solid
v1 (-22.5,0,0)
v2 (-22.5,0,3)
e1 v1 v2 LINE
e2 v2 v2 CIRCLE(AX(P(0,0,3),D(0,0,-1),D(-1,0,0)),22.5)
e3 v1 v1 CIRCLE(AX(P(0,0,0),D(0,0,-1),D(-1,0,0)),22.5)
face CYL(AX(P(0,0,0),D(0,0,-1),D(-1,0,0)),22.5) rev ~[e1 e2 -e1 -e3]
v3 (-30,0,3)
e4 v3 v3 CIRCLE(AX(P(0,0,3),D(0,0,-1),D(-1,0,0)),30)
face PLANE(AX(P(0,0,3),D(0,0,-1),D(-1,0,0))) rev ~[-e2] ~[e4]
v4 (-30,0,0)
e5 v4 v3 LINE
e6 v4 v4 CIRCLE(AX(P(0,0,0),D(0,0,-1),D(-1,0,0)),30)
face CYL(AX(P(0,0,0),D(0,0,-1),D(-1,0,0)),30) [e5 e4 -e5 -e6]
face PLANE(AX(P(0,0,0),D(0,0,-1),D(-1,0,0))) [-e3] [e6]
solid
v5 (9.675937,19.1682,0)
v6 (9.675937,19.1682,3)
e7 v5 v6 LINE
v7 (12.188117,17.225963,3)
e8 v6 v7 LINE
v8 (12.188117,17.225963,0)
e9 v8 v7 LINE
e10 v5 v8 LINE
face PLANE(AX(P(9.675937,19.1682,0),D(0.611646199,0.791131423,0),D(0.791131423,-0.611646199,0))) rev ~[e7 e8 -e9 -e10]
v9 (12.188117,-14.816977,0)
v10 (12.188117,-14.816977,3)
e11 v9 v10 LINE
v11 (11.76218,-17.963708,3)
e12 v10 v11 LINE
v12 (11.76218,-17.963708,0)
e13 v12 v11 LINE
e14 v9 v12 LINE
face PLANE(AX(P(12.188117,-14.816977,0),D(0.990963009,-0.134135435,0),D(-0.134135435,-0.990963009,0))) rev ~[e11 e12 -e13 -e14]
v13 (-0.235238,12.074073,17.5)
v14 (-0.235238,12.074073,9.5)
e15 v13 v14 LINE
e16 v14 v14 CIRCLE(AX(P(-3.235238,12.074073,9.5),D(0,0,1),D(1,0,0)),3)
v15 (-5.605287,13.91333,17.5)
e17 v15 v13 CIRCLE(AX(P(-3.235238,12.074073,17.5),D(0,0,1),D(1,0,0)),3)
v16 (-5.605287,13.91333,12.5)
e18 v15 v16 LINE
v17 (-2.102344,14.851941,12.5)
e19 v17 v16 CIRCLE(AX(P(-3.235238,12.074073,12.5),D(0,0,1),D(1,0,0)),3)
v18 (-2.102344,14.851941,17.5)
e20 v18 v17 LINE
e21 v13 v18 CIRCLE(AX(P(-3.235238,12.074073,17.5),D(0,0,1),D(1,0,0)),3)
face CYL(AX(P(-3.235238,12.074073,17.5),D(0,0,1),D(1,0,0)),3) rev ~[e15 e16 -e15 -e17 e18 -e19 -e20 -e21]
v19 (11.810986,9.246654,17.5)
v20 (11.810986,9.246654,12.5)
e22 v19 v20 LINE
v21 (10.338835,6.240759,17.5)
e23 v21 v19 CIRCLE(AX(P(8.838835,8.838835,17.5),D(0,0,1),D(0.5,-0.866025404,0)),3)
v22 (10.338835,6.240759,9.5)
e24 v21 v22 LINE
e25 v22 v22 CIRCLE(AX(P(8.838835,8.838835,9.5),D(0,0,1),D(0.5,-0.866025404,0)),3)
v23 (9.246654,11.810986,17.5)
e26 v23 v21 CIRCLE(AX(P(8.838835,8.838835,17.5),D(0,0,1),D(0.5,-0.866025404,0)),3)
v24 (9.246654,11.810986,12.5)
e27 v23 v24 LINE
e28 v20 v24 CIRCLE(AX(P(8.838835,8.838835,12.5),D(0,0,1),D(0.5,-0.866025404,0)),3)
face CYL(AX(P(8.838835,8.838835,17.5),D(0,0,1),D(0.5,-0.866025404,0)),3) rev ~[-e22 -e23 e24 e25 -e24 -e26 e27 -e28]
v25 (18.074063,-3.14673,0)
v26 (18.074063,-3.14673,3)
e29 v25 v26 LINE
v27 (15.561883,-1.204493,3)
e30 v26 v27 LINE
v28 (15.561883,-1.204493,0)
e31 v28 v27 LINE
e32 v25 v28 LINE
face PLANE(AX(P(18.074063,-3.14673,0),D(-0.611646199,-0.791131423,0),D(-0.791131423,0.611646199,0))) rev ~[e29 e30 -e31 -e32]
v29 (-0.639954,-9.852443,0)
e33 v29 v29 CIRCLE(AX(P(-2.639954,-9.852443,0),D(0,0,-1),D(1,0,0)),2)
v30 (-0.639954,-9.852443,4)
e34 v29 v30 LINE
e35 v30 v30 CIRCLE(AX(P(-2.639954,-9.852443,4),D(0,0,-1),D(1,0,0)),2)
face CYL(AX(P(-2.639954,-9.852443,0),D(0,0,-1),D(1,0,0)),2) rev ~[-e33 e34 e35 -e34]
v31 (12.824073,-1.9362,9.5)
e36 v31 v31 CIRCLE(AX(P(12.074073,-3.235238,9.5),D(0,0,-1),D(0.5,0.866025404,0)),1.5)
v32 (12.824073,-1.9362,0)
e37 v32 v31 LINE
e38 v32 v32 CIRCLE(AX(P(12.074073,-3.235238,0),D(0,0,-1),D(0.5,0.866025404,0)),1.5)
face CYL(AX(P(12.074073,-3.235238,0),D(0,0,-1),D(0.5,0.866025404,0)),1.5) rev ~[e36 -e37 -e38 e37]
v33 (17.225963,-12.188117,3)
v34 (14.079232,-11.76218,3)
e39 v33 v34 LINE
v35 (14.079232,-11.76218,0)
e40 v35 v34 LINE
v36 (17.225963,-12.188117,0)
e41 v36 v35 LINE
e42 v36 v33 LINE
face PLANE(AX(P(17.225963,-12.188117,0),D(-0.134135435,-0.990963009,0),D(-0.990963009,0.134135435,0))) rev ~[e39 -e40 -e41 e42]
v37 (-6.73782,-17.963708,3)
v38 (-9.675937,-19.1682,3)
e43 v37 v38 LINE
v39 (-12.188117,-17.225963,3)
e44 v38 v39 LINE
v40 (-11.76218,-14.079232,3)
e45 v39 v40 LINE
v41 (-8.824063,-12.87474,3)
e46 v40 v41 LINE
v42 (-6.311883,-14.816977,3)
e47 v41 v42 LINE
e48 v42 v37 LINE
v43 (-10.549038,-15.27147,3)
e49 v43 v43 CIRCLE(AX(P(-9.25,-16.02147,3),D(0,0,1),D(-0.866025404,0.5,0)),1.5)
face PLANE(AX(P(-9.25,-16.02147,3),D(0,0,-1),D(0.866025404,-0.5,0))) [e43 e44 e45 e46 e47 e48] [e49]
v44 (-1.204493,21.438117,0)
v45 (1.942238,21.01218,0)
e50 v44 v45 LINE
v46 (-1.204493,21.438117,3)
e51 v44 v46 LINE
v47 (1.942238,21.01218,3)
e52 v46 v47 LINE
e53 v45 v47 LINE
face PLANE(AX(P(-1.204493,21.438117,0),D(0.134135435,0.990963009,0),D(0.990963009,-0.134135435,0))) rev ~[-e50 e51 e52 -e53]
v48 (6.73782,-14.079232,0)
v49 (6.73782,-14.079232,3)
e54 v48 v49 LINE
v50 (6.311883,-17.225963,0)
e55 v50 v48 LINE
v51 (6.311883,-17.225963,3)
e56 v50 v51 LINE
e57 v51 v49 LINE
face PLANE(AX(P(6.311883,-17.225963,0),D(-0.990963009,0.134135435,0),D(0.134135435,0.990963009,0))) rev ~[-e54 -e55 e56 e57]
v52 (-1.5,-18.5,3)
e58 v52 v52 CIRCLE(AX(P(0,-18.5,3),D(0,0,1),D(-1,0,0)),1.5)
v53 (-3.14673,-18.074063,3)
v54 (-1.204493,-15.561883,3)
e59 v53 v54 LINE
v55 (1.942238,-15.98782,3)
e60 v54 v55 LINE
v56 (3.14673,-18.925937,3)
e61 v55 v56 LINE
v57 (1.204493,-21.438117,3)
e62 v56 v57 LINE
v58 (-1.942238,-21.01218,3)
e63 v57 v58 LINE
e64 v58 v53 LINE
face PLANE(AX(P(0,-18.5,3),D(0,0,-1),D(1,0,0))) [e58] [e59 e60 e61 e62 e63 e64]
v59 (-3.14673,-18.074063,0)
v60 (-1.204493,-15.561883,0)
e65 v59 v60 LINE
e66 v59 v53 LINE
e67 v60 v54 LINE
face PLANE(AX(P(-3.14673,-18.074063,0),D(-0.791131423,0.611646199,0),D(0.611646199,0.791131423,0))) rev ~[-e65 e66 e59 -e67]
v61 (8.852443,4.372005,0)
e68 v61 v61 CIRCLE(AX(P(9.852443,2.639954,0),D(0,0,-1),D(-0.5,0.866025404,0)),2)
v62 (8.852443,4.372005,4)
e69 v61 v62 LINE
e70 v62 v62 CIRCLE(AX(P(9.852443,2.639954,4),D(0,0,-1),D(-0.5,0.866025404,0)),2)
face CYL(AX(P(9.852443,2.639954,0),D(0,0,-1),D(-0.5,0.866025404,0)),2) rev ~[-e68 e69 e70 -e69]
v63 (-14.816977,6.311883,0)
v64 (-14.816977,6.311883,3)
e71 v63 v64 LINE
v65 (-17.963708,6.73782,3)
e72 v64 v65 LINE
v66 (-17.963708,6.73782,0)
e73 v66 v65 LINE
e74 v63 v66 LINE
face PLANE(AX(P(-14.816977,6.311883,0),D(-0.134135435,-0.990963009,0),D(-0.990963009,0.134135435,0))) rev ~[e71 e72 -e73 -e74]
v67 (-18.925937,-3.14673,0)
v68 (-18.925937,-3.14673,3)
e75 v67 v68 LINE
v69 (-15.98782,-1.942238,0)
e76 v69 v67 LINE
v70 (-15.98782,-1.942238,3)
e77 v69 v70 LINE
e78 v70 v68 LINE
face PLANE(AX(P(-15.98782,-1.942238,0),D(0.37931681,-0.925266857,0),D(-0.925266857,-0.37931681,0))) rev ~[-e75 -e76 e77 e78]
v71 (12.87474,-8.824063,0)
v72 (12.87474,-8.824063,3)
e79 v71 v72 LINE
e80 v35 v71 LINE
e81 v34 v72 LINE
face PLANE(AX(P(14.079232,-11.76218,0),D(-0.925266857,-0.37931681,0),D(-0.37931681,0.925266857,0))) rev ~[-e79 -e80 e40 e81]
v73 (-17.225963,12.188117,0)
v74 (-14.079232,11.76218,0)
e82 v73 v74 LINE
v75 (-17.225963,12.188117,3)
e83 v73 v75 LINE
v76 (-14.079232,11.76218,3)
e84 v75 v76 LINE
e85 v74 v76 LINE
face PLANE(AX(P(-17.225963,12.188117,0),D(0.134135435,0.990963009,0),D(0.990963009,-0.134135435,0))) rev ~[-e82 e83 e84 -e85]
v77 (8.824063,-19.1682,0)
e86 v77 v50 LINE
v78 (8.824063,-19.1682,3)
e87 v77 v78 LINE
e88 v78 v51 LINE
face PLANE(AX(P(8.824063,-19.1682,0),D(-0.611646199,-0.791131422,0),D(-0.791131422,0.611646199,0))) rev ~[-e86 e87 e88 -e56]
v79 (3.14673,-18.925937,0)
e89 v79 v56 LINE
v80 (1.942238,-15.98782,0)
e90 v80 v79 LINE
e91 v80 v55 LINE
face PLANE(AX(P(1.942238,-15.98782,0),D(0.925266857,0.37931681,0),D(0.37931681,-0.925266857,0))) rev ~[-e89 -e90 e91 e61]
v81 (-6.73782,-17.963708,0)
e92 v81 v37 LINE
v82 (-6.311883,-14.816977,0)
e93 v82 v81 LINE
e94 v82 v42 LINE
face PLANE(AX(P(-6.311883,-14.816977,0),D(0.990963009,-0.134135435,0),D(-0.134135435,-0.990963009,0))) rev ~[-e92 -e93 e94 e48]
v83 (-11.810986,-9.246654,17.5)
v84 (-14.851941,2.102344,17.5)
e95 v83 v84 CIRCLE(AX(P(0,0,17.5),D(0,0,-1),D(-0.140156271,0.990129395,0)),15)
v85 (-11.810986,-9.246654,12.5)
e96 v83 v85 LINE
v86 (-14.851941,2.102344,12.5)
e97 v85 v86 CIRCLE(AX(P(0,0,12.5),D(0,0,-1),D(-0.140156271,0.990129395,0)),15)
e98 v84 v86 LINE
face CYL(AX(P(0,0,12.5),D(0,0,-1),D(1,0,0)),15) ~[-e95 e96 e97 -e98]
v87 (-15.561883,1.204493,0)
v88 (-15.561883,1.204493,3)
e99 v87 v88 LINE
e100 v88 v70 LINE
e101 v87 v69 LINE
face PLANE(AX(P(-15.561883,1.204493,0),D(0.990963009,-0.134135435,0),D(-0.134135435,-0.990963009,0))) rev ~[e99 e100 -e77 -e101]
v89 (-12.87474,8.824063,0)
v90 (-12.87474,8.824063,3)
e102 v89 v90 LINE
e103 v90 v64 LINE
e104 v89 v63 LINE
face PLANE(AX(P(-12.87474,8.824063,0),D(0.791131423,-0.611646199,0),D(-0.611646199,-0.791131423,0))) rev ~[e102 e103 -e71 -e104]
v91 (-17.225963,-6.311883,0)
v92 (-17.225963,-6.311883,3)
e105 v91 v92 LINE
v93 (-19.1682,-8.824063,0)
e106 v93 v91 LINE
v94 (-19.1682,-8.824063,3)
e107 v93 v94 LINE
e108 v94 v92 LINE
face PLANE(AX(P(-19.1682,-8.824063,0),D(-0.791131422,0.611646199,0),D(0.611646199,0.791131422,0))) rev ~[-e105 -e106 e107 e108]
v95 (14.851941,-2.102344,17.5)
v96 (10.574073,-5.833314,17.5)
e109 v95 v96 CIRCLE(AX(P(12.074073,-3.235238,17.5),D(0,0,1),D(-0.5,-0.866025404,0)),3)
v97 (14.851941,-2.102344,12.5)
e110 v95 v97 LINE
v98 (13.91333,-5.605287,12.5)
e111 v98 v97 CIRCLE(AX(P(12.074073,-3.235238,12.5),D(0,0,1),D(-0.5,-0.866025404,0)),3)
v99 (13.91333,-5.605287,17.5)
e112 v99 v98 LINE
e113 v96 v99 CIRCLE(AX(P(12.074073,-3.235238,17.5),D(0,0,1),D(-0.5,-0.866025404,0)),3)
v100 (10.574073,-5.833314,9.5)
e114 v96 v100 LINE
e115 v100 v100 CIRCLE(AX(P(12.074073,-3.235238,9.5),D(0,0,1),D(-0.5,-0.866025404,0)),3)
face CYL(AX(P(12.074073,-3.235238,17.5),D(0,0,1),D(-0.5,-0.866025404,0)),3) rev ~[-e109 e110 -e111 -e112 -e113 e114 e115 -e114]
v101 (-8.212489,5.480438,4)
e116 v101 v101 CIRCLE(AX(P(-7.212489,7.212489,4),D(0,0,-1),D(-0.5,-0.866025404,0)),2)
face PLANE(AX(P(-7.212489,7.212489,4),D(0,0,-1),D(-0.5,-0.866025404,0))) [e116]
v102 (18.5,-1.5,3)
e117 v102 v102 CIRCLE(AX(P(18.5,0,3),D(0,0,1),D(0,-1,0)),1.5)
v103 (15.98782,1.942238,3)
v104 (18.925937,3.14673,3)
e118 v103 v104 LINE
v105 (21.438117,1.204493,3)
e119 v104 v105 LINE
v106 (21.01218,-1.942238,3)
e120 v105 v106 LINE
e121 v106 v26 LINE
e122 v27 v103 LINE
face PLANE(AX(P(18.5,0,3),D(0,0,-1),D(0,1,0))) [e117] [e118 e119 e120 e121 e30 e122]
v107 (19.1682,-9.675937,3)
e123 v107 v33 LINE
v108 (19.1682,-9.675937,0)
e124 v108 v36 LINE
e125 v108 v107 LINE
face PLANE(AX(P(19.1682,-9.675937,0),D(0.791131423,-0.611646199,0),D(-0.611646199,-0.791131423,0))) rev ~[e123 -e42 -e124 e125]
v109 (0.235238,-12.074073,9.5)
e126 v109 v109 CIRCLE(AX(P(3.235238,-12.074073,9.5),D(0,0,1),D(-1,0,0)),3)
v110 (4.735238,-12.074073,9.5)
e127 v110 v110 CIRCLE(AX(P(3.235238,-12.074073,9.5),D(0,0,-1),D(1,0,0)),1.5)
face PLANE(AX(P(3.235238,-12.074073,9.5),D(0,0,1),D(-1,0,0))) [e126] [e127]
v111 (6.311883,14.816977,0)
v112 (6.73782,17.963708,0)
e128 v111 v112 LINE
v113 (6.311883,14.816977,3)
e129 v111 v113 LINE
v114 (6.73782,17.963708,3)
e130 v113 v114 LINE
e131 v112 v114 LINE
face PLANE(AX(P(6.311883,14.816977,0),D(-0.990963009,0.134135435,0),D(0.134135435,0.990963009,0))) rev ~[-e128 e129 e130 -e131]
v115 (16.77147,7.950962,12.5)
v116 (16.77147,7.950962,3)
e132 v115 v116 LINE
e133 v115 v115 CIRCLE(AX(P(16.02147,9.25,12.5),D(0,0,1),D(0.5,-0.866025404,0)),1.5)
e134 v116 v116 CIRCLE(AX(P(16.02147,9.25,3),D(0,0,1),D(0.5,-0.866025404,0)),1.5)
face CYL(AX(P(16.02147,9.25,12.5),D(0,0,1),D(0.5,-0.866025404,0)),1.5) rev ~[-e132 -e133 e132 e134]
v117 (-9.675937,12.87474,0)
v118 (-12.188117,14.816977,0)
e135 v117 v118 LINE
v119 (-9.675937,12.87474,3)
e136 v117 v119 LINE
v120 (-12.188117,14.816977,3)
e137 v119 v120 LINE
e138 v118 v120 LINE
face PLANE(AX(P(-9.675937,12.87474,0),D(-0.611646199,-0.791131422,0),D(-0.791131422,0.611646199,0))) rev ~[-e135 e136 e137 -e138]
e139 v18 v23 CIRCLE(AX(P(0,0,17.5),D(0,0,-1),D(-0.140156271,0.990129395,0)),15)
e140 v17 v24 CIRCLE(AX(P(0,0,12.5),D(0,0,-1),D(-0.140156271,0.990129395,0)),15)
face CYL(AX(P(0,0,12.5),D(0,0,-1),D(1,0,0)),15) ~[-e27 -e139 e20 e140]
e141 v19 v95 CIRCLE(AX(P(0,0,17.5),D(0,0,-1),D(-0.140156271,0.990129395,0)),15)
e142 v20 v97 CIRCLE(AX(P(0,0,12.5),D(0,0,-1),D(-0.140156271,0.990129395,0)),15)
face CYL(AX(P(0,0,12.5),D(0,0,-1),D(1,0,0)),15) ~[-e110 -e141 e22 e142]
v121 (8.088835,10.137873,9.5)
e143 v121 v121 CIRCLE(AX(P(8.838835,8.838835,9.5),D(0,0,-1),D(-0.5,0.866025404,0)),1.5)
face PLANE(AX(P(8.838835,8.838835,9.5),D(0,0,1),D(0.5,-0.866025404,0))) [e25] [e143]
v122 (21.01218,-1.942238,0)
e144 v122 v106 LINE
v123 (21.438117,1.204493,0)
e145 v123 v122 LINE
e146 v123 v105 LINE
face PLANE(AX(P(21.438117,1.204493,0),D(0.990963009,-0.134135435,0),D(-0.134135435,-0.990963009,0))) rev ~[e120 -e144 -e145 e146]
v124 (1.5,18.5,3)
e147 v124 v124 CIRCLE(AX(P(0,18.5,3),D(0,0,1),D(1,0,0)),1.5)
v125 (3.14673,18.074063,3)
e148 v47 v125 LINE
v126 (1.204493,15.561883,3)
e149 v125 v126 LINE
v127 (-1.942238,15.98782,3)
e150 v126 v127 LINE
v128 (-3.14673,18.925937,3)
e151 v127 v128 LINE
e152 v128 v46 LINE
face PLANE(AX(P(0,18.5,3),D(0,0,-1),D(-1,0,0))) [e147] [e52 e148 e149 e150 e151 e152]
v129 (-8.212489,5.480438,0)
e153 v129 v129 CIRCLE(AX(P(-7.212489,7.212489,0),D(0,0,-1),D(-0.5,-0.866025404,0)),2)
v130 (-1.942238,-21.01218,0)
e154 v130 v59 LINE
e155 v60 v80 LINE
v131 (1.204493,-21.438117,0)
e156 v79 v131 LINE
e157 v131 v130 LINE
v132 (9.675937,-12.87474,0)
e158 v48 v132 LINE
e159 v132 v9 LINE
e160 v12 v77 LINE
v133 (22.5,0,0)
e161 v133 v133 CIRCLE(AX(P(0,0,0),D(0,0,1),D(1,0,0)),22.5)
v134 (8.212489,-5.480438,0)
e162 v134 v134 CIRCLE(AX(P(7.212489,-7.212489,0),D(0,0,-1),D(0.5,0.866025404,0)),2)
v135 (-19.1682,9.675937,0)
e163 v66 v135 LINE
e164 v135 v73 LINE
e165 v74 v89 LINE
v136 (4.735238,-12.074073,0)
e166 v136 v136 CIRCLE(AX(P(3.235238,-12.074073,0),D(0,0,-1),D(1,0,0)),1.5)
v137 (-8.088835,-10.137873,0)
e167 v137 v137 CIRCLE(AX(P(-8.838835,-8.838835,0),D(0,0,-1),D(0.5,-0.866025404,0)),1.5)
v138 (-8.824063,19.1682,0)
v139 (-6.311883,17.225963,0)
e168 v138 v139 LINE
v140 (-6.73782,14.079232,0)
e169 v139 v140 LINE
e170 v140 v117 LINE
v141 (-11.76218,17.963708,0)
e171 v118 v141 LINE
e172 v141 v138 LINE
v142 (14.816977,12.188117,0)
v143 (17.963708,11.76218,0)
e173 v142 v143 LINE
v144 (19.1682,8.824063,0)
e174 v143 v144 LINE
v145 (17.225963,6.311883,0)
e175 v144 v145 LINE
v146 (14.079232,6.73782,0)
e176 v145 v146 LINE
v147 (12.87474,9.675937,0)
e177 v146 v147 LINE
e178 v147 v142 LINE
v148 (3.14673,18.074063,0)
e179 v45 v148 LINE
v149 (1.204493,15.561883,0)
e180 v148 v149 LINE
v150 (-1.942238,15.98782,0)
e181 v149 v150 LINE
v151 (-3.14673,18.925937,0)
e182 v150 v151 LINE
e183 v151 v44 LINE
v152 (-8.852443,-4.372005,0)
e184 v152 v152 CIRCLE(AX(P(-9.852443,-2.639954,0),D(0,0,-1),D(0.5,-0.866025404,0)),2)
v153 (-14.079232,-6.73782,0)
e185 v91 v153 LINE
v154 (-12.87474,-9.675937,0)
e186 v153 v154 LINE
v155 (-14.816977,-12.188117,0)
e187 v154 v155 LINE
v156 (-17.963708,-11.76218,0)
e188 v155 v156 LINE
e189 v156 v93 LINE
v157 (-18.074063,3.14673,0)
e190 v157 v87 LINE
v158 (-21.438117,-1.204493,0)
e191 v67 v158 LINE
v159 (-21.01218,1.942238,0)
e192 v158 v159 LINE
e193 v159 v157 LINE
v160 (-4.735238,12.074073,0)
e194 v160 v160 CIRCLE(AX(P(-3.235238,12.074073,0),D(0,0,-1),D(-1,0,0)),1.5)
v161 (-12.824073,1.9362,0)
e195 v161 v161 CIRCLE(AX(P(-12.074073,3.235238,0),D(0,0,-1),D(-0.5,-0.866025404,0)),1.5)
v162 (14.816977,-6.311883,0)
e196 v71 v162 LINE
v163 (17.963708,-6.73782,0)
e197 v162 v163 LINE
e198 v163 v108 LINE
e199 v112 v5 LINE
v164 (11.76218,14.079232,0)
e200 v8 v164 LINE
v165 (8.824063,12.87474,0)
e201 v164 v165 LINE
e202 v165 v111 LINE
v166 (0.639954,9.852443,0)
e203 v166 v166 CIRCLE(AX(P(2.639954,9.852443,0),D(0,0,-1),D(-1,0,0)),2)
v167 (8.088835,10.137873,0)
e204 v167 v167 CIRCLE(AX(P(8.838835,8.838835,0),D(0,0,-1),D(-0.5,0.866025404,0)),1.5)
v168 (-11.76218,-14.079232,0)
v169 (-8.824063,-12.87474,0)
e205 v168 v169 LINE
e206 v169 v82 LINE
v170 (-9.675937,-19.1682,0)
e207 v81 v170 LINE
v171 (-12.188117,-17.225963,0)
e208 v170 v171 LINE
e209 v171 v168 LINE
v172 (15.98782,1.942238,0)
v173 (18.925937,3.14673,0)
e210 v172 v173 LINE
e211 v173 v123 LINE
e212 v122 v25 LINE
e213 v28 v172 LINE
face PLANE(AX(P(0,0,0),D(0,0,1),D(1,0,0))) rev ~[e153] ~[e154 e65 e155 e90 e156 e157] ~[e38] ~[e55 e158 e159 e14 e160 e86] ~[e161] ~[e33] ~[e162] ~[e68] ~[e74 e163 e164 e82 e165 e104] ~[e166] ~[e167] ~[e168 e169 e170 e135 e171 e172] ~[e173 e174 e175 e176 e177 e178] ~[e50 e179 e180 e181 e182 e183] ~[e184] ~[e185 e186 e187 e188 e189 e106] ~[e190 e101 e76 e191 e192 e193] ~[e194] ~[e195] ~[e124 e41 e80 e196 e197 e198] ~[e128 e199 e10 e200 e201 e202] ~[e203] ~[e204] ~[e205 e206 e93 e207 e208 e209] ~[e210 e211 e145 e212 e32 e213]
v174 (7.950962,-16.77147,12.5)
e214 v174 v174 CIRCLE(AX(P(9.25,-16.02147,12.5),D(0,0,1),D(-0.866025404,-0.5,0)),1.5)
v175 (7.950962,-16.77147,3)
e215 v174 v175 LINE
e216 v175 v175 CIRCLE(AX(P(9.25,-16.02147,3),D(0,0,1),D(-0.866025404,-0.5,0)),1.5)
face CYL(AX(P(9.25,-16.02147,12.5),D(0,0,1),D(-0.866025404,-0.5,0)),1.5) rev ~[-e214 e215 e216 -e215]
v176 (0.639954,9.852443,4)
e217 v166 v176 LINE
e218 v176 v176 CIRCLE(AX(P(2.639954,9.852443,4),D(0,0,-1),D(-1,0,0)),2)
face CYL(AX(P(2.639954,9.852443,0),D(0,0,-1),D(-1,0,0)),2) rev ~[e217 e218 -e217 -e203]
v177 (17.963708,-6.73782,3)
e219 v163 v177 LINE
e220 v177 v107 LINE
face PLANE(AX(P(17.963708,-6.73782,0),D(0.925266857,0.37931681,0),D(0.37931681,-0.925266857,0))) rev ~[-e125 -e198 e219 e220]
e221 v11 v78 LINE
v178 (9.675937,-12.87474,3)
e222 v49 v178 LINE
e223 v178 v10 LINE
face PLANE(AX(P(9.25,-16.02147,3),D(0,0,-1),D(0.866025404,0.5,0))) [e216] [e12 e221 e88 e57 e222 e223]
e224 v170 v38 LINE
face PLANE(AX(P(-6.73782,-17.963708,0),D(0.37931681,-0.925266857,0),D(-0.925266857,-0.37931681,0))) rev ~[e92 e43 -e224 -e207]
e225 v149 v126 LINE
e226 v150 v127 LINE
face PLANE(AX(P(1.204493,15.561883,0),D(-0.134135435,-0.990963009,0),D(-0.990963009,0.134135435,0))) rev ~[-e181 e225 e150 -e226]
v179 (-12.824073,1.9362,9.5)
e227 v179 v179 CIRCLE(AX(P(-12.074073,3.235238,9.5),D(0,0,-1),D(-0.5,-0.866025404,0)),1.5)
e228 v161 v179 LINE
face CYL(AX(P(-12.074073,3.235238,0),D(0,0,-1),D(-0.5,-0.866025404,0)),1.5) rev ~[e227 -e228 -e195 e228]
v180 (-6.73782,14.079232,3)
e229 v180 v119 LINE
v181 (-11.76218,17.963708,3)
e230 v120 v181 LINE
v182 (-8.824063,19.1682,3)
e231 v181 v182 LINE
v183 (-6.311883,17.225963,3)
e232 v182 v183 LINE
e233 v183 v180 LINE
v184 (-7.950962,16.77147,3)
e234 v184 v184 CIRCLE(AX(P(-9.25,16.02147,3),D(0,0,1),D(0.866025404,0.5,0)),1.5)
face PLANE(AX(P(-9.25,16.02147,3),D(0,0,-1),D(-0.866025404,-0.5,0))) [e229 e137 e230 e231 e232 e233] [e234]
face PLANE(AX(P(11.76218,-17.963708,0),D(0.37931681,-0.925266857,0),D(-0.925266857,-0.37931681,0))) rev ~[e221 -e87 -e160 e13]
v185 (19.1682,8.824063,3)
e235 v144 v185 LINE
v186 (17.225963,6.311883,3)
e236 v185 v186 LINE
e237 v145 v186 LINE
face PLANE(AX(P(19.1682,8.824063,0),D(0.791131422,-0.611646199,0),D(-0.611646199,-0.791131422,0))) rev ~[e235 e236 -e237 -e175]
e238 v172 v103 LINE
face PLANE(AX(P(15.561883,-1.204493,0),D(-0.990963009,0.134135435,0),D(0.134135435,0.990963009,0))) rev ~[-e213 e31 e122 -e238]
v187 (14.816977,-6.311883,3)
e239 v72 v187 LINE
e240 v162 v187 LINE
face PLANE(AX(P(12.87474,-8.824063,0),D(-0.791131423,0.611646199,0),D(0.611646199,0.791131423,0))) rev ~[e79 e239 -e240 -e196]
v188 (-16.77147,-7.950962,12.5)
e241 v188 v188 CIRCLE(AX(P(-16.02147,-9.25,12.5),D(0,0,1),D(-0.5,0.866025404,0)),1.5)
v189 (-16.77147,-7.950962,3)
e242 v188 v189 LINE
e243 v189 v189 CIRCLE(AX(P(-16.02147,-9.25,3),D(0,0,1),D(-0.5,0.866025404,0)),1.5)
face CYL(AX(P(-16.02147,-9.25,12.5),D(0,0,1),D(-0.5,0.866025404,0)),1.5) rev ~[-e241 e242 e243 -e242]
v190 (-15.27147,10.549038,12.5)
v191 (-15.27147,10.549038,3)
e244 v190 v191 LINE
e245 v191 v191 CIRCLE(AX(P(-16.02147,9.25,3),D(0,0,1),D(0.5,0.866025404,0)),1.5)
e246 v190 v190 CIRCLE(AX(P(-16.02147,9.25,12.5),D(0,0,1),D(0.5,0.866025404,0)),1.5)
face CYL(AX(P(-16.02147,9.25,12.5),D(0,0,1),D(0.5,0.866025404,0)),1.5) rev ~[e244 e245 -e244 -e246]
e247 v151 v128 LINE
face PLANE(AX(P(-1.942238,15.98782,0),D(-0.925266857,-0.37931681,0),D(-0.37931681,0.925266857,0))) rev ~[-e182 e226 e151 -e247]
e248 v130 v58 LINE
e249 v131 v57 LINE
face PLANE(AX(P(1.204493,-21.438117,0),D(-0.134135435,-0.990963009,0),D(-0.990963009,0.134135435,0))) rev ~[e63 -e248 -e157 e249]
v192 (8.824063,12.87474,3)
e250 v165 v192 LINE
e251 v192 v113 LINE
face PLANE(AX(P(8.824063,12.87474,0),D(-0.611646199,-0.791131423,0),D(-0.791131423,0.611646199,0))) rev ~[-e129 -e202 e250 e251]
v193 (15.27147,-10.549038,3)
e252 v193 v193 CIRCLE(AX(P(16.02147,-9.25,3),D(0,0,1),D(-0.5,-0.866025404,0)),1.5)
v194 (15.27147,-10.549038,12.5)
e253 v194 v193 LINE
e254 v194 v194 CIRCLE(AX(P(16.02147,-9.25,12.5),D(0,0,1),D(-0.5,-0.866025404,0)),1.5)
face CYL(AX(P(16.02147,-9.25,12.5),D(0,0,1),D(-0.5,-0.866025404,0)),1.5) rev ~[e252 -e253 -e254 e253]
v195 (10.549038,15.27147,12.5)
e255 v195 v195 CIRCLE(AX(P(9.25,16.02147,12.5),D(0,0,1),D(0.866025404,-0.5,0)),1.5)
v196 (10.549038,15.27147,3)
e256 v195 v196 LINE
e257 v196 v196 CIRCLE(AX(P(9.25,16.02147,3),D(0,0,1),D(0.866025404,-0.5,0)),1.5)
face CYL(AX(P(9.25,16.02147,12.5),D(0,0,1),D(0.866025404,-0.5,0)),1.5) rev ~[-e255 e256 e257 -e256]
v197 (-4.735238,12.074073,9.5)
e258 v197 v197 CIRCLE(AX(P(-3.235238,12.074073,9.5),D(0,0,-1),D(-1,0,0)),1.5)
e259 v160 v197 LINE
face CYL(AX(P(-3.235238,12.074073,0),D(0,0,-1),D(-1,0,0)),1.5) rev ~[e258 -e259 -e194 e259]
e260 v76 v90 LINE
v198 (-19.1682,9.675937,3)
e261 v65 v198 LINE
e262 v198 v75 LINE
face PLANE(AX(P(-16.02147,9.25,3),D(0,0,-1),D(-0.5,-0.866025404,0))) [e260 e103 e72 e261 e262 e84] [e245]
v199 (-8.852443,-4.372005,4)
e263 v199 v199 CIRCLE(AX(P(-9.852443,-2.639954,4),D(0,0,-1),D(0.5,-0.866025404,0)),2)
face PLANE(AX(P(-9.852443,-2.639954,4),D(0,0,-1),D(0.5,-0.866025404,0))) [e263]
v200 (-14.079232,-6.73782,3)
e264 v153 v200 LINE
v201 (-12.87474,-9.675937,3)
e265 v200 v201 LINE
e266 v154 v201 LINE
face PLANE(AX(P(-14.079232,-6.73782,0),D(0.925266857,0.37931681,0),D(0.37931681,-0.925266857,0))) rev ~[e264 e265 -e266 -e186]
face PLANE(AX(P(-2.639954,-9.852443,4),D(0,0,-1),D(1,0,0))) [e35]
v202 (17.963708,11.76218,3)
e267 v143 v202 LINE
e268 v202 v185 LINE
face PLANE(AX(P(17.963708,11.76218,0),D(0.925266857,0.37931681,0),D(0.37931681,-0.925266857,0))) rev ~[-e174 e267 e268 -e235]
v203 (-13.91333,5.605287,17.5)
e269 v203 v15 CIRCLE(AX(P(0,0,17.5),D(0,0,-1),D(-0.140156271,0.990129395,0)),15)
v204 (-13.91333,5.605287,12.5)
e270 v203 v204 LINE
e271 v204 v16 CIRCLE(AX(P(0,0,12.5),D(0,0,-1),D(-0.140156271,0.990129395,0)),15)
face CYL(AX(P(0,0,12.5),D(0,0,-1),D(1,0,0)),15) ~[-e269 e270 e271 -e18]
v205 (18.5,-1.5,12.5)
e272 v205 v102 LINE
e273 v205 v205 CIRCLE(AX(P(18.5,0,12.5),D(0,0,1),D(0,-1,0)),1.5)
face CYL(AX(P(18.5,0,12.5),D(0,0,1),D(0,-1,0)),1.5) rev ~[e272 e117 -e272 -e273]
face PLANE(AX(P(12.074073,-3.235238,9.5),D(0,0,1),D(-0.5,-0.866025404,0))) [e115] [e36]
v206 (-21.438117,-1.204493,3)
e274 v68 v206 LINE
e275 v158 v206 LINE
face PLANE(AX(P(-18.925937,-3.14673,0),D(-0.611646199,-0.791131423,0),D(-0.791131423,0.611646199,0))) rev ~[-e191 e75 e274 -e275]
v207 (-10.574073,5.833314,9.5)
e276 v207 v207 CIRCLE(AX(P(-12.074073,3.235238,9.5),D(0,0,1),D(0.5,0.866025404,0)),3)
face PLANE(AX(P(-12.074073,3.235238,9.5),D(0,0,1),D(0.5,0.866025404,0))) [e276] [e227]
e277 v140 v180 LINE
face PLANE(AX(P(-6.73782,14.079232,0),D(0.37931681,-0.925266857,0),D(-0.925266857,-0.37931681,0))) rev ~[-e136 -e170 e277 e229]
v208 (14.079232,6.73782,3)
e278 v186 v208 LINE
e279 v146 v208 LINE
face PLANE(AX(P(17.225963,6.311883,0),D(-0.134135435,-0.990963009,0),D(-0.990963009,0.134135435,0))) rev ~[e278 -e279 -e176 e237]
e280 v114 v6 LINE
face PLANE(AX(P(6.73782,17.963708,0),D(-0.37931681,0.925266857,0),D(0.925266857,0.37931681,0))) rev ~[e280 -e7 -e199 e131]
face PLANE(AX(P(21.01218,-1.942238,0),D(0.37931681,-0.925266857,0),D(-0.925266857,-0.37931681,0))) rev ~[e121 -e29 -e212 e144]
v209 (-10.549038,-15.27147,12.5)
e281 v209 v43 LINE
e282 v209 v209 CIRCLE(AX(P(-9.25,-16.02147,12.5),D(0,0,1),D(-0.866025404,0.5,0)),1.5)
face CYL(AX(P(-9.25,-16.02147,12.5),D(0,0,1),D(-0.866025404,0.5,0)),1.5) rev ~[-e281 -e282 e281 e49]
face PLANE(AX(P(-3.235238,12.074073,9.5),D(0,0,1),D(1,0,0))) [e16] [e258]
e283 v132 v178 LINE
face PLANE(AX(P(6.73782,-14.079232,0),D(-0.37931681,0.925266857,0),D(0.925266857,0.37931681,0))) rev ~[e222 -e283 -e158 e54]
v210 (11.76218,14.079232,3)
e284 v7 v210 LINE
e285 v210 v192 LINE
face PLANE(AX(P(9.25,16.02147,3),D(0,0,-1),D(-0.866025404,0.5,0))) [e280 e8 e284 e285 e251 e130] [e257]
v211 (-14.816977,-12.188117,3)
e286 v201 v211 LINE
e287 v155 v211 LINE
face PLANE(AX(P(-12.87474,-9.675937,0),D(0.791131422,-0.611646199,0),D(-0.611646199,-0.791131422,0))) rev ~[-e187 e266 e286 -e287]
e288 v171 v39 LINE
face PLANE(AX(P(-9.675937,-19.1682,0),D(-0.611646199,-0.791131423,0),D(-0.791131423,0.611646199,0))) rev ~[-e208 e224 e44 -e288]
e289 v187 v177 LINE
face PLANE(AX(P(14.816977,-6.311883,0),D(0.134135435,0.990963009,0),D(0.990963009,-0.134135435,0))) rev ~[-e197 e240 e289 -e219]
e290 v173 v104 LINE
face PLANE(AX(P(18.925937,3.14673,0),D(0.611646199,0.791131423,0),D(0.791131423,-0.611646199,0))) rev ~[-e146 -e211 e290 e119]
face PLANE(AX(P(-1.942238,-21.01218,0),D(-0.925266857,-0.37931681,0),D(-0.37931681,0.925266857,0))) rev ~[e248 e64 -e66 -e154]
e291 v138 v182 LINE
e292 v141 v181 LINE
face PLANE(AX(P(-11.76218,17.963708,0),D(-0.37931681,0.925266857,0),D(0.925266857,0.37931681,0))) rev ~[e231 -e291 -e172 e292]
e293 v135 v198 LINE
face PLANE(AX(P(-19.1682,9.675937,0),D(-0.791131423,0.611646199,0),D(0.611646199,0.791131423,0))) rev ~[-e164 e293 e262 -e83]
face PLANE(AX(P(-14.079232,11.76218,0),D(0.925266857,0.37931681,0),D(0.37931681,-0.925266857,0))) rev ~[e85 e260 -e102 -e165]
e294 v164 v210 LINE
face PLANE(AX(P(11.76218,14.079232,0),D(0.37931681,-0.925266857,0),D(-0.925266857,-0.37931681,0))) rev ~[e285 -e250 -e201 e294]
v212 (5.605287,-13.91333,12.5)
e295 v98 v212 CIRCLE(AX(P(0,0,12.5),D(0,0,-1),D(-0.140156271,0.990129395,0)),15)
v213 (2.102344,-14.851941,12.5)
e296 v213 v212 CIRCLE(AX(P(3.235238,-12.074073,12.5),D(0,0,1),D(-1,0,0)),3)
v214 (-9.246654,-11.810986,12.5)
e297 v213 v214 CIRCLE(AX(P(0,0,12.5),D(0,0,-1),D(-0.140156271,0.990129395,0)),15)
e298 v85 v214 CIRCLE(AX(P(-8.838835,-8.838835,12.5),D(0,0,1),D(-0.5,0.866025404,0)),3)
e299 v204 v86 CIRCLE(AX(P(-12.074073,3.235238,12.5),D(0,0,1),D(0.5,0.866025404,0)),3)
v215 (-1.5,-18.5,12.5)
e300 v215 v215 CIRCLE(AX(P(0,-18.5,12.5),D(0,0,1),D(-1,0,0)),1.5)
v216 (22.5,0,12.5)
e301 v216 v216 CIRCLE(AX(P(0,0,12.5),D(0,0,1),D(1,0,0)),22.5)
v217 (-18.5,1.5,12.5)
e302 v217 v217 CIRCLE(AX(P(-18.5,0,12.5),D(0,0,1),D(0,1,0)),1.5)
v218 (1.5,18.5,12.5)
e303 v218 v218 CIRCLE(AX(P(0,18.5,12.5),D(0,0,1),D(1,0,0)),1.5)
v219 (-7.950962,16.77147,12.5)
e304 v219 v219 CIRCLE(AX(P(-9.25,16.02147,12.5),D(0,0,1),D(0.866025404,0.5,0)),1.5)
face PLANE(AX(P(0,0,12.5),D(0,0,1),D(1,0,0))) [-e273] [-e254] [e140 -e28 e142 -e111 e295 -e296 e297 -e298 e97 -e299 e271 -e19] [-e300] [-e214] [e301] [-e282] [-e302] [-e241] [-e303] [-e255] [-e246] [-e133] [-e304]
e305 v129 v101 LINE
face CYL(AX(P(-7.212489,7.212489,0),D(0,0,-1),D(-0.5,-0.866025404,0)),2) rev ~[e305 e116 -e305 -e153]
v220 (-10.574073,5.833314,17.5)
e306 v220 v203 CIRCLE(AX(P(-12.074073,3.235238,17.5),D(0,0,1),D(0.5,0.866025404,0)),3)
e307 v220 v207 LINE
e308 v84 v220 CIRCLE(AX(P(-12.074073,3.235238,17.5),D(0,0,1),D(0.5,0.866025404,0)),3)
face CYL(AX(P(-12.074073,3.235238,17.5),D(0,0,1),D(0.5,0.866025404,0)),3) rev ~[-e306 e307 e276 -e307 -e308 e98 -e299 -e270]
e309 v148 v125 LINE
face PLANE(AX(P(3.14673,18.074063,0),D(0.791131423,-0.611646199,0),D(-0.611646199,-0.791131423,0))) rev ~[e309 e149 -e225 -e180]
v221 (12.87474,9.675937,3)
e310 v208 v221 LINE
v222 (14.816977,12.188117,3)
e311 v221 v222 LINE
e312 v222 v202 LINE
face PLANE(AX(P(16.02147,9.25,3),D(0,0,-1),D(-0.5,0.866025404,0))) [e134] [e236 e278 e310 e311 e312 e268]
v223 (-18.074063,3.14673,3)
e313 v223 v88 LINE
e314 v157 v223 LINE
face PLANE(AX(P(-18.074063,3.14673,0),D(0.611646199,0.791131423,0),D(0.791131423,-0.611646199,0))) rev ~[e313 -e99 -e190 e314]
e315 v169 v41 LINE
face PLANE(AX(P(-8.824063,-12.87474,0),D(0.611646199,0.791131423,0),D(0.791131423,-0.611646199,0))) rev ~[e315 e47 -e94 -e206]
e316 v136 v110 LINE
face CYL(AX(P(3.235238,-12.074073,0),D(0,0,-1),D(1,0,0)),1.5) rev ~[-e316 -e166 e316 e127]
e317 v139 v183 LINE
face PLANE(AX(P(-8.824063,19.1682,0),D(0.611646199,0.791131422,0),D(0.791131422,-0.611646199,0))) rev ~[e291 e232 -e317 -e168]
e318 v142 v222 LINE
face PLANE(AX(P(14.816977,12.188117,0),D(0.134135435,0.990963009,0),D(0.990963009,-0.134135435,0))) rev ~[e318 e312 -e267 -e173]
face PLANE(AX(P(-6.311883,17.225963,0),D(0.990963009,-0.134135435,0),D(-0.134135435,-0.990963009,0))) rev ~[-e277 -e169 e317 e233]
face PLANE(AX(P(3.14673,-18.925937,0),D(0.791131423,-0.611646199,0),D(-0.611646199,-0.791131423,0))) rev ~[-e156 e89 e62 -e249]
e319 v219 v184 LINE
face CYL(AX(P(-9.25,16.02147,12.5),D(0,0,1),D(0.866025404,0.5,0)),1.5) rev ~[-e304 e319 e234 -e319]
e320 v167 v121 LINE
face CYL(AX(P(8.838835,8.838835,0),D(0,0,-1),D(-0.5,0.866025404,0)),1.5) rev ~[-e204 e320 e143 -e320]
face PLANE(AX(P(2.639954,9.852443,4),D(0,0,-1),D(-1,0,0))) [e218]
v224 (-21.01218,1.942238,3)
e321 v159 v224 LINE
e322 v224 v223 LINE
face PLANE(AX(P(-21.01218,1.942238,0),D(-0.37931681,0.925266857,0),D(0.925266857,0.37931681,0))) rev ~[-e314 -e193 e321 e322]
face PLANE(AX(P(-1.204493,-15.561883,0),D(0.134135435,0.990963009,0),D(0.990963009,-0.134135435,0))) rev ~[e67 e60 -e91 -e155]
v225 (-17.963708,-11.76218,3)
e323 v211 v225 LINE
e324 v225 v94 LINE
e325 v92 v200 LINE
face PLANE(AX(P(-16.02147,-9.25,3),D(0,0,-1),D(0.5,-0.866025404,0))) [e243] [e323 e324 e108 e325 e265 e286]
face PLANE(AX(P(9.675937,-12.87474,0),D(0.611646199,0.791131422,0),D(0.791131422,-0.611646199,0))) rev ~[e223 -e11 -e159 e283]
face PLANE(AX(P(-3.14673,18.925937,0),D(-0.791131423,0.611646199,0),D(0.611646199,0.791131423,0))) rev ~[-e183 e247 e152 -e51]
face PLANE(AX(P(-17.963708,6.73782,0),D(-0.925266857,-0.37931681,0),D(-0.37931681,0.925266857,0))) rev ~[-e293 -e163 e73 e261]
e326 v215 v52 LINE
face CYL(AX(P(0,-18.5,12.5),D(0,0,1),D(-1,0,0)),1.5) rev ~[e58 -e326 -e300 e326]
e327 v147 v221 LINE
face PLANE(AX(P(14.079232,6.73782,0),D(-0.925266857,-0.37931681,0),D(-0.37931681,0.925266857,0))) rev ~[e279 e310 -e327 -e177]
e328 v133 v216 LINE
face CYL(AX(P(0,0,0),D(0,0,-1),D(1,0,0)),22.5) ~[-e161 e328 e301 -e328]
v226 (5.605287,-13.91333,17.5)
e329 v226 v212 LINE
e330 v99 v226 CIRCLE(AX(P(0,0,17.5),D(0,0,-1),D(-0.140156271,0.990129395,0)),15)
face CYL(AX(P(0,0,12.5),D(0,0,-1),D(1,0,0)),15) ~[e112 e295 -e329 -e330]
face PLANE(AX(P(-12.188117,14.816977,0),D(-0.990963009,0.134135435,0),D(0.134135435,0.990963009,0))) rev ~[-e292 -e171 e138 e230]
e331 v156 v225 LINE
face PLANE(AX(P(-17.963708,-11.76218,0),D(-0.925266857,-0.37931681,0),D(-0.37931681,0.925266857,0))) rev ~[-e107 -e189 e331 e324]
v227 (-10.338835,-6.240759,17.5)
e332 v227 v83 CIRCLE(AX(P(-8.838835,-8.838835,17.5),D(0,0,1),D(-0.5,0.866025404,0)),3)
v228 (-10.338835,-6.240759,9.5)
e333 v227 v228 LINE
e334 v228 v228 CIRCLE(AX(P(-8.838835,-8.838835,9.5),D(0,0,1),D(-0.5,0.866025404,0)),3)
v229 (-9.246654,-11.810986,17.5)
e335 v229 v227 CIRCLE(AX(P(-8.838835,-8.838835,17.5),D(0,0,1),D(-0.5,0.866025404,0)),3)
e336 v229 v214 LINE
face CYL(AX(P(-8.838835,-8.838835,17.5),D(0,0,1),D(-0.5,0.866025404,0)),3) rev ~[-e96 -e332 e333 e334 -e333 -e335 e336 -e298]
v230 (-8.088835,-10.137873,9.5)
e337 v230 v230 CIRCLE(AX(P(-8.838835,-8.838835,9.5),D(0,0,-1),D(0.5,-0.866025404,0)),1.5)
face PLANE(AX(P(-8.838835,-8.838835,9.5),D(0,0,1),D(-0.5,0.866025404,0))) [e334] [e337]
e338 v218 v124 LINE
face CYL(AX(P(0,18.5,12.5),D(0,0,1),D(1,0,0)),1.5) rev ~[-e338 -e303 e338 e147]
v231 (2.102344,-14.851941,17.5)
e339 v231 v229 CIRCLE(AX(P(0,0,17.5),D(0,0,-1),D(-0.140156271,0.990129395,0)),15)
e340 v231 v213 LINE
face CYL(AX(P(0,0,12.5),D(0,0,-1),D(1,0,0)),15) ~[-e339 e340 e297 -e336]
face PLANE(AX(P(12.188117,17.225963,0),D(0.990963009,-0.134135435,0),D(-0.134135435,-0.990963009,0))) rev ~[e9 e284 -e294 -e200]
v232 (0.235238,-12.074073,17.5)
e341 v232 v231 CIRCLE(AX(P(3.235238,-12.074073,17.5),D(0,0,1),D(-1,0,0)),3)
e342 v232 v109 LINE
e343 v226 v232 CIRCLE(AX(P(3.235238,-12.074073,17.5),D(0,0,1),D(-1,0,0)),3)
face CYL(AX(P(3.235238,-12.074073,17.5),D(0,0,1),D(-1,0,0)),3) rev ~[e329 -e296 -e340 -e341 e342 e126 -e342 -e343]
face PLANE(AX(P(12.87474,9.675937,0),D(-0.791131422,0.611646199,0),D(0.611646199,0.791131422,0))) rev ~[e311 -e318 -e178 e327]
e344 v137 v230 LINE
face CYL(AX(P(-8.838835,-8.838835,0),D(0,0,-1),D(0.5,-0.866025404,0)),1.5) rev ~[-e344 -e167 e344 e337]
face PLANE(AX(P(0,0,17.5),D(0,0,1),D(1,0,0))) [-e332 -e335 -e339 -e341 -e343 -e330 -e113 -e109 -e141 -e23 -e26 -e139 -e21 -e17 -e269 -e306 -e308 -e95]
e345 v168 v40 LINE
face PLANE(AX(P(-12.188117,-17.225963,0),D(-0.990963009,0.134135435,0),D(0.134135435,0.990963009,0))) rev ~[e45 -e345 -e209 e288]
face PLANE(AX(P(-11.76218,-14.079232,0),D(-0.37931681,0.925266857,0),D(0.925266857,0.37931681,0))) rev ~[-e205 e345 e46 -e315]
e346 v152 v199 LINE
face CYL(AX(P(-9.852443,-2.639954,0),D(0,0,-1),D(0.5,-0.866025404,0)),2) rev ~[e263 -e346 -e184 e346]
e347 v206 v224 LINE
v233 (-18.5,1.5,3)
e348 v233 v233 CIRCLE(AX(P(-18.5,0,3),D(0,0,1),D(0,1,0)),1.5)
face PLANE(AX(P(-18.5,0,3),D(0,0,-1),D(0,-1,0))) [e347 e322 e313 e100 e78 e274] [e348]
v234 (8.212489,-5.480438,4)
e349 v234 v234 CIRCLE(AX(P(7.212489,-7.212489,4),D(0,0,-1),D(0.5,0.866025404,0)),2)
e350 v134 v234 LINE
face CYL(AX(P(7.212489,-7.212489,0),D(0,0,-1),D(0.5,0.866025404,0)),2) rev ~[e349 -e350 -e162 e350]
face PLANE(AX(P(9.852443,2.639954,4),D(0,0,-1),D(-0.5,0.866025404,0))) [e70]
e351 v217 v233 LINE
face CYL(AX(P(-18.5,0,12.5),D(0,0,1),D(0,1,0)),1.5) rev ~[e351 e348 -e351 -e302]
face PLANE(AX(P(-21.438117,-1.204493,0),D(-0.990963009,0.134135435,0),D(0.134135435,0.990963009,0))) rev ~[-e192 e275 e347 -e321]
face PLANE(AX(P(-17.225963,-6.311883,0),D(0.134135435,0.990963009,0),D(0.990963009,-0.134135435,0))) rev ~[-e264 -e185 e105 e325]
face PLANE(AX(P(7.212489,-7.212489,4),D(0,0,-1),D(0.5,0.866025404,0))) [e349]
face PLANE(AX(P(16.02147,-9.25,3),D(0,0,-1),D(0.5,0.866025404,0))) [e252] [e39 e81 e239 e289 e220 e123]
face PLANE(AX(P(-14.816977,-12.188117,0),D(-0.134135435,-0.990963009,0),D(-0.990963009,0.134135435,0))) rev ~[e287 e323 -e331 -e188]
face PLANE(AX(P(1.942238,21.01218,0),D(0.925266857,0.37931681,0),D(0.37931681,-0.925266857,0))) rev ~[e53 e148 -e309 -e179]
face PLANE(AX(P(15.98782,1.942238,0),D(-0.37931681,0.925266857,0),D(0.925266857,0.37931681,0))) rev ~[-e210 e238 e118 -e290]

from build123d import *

# Parameters (mm, degrees)
SKETCH_1_R               = 22.5
EXTRUDE_1_DEPTH          = 12.5
SKETCH_2_R               = 15
EXTRUDE_2_DEPTH          = 5
SKETCH_3_R               = 1.5
CUT_EXTRUDE_1_DEPTH      = 5
SKETCH_5_R               = 1.5
CUT_EXTRUDE_2_DEPTH      = 35.186985828
CUT_EXTRUDE_6_DEPTH      = 3
PATTERN_CIRCULAR_1_COUNT = 12
SKETCH_6_R               = 1.5
CUT_EXTRUDE_3_DEPTH      = 37.314597616
SKETCH_7_R               = 3
CUT_EXTRUDE_4_DEPTH      = 8
PATTERN_CIRCULAR_2_COUNT = 6
SKETCH_8_R               = 2
CUT_EXTRUDE_5_DEPTH      = 4
PATTERN_CIRCULAR_3_COUNT = 6
SKETCH_10_R              = 30
SKETCH_10_R_2            = 22.5
EXTRUDE_3_DEPTH          = 3


with BuildPart() as part:
    # 草图1 → 凸台-拉伸1 (new body)
    with BuildSketch(Plane.XY):
        Circle(SKETCH_1_R)
    extrude(amount=EXTRUDE_1_DEPTH)

    # 草图2 → 凸台-拉伸2 (add)
    with BuildSketch(Plane.XY.offset(12.5)):
        Circle(SKETCH_2_R)
    extrude(amount=EXTRUDE_2_DEPTH)

    # 草图3 → 切除-拉伸1 (cut)
    with BuildSketch(Plane.XY.offset(12.5)):
        with Locations((0, 18.5)):
            Circle(SKETCH_3_R)
    cut_extrude_1 = extrude(amount=-CUT_EXTRUDE_1_DEPTH, mode=Mode.SUBTRACT)

    # 草图5 → 切除-拉伸2 (cut, through all)
    with BuildSketch(Plane.XY.offset(12.5)):
        with Locations((0, 18.5)):
            Circle(SKETCH_5_R)
    cut_extrude_2 = extrude(amount=-CUT_EXTRUDE_2_DEPTH, mode=Mode.SUBTRACT)

    # 草图9 → 切除-拉伸6 (cut)
    with BuildSketch(Plane(origin=(0, 0, 0), x_dir=(-1, 0, 0), z_dir=(0, 0, -1))):
        Polygon((1.204492644, 21.438116881), (-1.942237536, 21.012179669), (-3.14673018, 18.074062788), (-1.204492644, 15.561883119), (1.942237536, 15.987820331), (3.14673018, 18.925937212), align=None)
    cut_extrude_6 = extrude(amount=-CUT_EXTRUDE_6_DEPTH, mode=Mode.SUBTRACT)

    # 阵列(圆周)1: 切除-拉伸1, 切除-拉伸2, 切除-拉伸6 ×12 about axis
    pattern_circular_1_axis = Axis((0, 0, 0), (0, 0, 1))
    add([cut_extrude_1.rotate(pattern_circular_1_axis, i * 360 / PATTERN_CIRCULAR_1_COUNT) for i in range(1, PATTERN_CIRCULAR_1_COUNT)], mode=Mode.SUBTRACT)
    add([cut_extrude_2.rotate(pattern_circular_1_axis, i * 360 / PATTERN_CIRCULAR_1_COUNT) for i in range(1, PATTERN_CIRCULAR_1_COUNT)], mode=Mode.SUBTRACT)
    add([cut_extrude_6.rotate(pattern_circular_1_axis, i * 360 / PATTERN_CIRCULAR_1_COUNT) for i in range(1, PATTERN_CIRCULAR_1_COUNT)], mode=Mode.SUBTRACT)

    # 草图6 → 切除-拉伸3 (cut, through all)
    with BuildSketch(Plane(origin=(0, 0, 0), x_dir=(-1, 0, 0), z_dir=(0, 0, -1))):
        with Locations((3.235238064, 12.074072829)):
            Circle(SKETCH_6_R)
    cut_extrude_3 = extrude(amount=-CUT_EXTRUDE_3_DEPTH, mode=Mode.SUBTRACT)

    # 草图7 → 切除-拉伸4 (cut)
    with BuildSketch(Plane.XY.offset(17.5)):
        with Locations((-3.235238064, 12.074072829)):
            Circle(SKETCH_7_R)
    cut_extrude_4 = extrude(amount=-CUT_EXTRUDE_4_DEPTH, mode=Mode.SUBTRACT)

    # 阵列(圆周)2: 切除-拉伸3, 切除-拉伸4 ×6 about axis
    pattern_circular_2_axis = Axis((0, 0, 0), (0, 0, 1))
    add([cut_extrude_3.rotate(pattern_circular_2_axis, i * 360 / PATTERN_CIRCULAR_2_COUNT) for i in range(1, PATTERN_CIRCULAR_2_COUNT)], mode=Mode.SUBTRACT)
    add([cut_extrude_4.rotate(pattern_circular_2_axis, i * 360 / PATTERN_CIRCULAR_2_COUNT) for i in range(1, PATTERN_CIRCULAR_2_COUNT)], mode=Mode.SUBTRACT)

    # 草图8 → 切除-拉伸5 (cut)
    with BuildSketch(Plane(origin=(0, 0, 0), x_dir=(-1, 0, 0), z_dir=(0, 0, -1))):
        with Locations((-2.63995426, 9.852443428)):
            Circle(SKETCH_8_R)
    cut_extrude_5 = extrude(amount=-CUT_EXTRUDE_5_DEPTH, mode=Mode.SUBTRACT)

    # 阵列(圆周)3: 切除-拉伸5 ×6 about axis
    pattern_circular_3_axis = Axis((0, 0, 0), (0, 0, 1))
    for i in range(1, PATTERN_CIRCULAR_3_COUNT):
        add(cut_extrude_5.rotate(pattern_circular_3_axis, i * 360 / PATTERN_CIRCULAR_3_COUNT), mode=Mode.SUBTRACT)


with BuildPart() as body_2:
    # 草图10 → 凸台-拉伸3 (new body)
    with BuildSketch(Plane(origin=(0, 0, 0), x_dir=(-1, 0, 0), z_dir=(0, 0, -1))):
        Circle(SKETCH_10_R)
        Circle(SKETCH_10_R_2, mode=Mode.SUBTRACT)
    extrude(amount=-EXTRUDE_3_DEPTH)


solid = Compound([part.part, body_2.part])
